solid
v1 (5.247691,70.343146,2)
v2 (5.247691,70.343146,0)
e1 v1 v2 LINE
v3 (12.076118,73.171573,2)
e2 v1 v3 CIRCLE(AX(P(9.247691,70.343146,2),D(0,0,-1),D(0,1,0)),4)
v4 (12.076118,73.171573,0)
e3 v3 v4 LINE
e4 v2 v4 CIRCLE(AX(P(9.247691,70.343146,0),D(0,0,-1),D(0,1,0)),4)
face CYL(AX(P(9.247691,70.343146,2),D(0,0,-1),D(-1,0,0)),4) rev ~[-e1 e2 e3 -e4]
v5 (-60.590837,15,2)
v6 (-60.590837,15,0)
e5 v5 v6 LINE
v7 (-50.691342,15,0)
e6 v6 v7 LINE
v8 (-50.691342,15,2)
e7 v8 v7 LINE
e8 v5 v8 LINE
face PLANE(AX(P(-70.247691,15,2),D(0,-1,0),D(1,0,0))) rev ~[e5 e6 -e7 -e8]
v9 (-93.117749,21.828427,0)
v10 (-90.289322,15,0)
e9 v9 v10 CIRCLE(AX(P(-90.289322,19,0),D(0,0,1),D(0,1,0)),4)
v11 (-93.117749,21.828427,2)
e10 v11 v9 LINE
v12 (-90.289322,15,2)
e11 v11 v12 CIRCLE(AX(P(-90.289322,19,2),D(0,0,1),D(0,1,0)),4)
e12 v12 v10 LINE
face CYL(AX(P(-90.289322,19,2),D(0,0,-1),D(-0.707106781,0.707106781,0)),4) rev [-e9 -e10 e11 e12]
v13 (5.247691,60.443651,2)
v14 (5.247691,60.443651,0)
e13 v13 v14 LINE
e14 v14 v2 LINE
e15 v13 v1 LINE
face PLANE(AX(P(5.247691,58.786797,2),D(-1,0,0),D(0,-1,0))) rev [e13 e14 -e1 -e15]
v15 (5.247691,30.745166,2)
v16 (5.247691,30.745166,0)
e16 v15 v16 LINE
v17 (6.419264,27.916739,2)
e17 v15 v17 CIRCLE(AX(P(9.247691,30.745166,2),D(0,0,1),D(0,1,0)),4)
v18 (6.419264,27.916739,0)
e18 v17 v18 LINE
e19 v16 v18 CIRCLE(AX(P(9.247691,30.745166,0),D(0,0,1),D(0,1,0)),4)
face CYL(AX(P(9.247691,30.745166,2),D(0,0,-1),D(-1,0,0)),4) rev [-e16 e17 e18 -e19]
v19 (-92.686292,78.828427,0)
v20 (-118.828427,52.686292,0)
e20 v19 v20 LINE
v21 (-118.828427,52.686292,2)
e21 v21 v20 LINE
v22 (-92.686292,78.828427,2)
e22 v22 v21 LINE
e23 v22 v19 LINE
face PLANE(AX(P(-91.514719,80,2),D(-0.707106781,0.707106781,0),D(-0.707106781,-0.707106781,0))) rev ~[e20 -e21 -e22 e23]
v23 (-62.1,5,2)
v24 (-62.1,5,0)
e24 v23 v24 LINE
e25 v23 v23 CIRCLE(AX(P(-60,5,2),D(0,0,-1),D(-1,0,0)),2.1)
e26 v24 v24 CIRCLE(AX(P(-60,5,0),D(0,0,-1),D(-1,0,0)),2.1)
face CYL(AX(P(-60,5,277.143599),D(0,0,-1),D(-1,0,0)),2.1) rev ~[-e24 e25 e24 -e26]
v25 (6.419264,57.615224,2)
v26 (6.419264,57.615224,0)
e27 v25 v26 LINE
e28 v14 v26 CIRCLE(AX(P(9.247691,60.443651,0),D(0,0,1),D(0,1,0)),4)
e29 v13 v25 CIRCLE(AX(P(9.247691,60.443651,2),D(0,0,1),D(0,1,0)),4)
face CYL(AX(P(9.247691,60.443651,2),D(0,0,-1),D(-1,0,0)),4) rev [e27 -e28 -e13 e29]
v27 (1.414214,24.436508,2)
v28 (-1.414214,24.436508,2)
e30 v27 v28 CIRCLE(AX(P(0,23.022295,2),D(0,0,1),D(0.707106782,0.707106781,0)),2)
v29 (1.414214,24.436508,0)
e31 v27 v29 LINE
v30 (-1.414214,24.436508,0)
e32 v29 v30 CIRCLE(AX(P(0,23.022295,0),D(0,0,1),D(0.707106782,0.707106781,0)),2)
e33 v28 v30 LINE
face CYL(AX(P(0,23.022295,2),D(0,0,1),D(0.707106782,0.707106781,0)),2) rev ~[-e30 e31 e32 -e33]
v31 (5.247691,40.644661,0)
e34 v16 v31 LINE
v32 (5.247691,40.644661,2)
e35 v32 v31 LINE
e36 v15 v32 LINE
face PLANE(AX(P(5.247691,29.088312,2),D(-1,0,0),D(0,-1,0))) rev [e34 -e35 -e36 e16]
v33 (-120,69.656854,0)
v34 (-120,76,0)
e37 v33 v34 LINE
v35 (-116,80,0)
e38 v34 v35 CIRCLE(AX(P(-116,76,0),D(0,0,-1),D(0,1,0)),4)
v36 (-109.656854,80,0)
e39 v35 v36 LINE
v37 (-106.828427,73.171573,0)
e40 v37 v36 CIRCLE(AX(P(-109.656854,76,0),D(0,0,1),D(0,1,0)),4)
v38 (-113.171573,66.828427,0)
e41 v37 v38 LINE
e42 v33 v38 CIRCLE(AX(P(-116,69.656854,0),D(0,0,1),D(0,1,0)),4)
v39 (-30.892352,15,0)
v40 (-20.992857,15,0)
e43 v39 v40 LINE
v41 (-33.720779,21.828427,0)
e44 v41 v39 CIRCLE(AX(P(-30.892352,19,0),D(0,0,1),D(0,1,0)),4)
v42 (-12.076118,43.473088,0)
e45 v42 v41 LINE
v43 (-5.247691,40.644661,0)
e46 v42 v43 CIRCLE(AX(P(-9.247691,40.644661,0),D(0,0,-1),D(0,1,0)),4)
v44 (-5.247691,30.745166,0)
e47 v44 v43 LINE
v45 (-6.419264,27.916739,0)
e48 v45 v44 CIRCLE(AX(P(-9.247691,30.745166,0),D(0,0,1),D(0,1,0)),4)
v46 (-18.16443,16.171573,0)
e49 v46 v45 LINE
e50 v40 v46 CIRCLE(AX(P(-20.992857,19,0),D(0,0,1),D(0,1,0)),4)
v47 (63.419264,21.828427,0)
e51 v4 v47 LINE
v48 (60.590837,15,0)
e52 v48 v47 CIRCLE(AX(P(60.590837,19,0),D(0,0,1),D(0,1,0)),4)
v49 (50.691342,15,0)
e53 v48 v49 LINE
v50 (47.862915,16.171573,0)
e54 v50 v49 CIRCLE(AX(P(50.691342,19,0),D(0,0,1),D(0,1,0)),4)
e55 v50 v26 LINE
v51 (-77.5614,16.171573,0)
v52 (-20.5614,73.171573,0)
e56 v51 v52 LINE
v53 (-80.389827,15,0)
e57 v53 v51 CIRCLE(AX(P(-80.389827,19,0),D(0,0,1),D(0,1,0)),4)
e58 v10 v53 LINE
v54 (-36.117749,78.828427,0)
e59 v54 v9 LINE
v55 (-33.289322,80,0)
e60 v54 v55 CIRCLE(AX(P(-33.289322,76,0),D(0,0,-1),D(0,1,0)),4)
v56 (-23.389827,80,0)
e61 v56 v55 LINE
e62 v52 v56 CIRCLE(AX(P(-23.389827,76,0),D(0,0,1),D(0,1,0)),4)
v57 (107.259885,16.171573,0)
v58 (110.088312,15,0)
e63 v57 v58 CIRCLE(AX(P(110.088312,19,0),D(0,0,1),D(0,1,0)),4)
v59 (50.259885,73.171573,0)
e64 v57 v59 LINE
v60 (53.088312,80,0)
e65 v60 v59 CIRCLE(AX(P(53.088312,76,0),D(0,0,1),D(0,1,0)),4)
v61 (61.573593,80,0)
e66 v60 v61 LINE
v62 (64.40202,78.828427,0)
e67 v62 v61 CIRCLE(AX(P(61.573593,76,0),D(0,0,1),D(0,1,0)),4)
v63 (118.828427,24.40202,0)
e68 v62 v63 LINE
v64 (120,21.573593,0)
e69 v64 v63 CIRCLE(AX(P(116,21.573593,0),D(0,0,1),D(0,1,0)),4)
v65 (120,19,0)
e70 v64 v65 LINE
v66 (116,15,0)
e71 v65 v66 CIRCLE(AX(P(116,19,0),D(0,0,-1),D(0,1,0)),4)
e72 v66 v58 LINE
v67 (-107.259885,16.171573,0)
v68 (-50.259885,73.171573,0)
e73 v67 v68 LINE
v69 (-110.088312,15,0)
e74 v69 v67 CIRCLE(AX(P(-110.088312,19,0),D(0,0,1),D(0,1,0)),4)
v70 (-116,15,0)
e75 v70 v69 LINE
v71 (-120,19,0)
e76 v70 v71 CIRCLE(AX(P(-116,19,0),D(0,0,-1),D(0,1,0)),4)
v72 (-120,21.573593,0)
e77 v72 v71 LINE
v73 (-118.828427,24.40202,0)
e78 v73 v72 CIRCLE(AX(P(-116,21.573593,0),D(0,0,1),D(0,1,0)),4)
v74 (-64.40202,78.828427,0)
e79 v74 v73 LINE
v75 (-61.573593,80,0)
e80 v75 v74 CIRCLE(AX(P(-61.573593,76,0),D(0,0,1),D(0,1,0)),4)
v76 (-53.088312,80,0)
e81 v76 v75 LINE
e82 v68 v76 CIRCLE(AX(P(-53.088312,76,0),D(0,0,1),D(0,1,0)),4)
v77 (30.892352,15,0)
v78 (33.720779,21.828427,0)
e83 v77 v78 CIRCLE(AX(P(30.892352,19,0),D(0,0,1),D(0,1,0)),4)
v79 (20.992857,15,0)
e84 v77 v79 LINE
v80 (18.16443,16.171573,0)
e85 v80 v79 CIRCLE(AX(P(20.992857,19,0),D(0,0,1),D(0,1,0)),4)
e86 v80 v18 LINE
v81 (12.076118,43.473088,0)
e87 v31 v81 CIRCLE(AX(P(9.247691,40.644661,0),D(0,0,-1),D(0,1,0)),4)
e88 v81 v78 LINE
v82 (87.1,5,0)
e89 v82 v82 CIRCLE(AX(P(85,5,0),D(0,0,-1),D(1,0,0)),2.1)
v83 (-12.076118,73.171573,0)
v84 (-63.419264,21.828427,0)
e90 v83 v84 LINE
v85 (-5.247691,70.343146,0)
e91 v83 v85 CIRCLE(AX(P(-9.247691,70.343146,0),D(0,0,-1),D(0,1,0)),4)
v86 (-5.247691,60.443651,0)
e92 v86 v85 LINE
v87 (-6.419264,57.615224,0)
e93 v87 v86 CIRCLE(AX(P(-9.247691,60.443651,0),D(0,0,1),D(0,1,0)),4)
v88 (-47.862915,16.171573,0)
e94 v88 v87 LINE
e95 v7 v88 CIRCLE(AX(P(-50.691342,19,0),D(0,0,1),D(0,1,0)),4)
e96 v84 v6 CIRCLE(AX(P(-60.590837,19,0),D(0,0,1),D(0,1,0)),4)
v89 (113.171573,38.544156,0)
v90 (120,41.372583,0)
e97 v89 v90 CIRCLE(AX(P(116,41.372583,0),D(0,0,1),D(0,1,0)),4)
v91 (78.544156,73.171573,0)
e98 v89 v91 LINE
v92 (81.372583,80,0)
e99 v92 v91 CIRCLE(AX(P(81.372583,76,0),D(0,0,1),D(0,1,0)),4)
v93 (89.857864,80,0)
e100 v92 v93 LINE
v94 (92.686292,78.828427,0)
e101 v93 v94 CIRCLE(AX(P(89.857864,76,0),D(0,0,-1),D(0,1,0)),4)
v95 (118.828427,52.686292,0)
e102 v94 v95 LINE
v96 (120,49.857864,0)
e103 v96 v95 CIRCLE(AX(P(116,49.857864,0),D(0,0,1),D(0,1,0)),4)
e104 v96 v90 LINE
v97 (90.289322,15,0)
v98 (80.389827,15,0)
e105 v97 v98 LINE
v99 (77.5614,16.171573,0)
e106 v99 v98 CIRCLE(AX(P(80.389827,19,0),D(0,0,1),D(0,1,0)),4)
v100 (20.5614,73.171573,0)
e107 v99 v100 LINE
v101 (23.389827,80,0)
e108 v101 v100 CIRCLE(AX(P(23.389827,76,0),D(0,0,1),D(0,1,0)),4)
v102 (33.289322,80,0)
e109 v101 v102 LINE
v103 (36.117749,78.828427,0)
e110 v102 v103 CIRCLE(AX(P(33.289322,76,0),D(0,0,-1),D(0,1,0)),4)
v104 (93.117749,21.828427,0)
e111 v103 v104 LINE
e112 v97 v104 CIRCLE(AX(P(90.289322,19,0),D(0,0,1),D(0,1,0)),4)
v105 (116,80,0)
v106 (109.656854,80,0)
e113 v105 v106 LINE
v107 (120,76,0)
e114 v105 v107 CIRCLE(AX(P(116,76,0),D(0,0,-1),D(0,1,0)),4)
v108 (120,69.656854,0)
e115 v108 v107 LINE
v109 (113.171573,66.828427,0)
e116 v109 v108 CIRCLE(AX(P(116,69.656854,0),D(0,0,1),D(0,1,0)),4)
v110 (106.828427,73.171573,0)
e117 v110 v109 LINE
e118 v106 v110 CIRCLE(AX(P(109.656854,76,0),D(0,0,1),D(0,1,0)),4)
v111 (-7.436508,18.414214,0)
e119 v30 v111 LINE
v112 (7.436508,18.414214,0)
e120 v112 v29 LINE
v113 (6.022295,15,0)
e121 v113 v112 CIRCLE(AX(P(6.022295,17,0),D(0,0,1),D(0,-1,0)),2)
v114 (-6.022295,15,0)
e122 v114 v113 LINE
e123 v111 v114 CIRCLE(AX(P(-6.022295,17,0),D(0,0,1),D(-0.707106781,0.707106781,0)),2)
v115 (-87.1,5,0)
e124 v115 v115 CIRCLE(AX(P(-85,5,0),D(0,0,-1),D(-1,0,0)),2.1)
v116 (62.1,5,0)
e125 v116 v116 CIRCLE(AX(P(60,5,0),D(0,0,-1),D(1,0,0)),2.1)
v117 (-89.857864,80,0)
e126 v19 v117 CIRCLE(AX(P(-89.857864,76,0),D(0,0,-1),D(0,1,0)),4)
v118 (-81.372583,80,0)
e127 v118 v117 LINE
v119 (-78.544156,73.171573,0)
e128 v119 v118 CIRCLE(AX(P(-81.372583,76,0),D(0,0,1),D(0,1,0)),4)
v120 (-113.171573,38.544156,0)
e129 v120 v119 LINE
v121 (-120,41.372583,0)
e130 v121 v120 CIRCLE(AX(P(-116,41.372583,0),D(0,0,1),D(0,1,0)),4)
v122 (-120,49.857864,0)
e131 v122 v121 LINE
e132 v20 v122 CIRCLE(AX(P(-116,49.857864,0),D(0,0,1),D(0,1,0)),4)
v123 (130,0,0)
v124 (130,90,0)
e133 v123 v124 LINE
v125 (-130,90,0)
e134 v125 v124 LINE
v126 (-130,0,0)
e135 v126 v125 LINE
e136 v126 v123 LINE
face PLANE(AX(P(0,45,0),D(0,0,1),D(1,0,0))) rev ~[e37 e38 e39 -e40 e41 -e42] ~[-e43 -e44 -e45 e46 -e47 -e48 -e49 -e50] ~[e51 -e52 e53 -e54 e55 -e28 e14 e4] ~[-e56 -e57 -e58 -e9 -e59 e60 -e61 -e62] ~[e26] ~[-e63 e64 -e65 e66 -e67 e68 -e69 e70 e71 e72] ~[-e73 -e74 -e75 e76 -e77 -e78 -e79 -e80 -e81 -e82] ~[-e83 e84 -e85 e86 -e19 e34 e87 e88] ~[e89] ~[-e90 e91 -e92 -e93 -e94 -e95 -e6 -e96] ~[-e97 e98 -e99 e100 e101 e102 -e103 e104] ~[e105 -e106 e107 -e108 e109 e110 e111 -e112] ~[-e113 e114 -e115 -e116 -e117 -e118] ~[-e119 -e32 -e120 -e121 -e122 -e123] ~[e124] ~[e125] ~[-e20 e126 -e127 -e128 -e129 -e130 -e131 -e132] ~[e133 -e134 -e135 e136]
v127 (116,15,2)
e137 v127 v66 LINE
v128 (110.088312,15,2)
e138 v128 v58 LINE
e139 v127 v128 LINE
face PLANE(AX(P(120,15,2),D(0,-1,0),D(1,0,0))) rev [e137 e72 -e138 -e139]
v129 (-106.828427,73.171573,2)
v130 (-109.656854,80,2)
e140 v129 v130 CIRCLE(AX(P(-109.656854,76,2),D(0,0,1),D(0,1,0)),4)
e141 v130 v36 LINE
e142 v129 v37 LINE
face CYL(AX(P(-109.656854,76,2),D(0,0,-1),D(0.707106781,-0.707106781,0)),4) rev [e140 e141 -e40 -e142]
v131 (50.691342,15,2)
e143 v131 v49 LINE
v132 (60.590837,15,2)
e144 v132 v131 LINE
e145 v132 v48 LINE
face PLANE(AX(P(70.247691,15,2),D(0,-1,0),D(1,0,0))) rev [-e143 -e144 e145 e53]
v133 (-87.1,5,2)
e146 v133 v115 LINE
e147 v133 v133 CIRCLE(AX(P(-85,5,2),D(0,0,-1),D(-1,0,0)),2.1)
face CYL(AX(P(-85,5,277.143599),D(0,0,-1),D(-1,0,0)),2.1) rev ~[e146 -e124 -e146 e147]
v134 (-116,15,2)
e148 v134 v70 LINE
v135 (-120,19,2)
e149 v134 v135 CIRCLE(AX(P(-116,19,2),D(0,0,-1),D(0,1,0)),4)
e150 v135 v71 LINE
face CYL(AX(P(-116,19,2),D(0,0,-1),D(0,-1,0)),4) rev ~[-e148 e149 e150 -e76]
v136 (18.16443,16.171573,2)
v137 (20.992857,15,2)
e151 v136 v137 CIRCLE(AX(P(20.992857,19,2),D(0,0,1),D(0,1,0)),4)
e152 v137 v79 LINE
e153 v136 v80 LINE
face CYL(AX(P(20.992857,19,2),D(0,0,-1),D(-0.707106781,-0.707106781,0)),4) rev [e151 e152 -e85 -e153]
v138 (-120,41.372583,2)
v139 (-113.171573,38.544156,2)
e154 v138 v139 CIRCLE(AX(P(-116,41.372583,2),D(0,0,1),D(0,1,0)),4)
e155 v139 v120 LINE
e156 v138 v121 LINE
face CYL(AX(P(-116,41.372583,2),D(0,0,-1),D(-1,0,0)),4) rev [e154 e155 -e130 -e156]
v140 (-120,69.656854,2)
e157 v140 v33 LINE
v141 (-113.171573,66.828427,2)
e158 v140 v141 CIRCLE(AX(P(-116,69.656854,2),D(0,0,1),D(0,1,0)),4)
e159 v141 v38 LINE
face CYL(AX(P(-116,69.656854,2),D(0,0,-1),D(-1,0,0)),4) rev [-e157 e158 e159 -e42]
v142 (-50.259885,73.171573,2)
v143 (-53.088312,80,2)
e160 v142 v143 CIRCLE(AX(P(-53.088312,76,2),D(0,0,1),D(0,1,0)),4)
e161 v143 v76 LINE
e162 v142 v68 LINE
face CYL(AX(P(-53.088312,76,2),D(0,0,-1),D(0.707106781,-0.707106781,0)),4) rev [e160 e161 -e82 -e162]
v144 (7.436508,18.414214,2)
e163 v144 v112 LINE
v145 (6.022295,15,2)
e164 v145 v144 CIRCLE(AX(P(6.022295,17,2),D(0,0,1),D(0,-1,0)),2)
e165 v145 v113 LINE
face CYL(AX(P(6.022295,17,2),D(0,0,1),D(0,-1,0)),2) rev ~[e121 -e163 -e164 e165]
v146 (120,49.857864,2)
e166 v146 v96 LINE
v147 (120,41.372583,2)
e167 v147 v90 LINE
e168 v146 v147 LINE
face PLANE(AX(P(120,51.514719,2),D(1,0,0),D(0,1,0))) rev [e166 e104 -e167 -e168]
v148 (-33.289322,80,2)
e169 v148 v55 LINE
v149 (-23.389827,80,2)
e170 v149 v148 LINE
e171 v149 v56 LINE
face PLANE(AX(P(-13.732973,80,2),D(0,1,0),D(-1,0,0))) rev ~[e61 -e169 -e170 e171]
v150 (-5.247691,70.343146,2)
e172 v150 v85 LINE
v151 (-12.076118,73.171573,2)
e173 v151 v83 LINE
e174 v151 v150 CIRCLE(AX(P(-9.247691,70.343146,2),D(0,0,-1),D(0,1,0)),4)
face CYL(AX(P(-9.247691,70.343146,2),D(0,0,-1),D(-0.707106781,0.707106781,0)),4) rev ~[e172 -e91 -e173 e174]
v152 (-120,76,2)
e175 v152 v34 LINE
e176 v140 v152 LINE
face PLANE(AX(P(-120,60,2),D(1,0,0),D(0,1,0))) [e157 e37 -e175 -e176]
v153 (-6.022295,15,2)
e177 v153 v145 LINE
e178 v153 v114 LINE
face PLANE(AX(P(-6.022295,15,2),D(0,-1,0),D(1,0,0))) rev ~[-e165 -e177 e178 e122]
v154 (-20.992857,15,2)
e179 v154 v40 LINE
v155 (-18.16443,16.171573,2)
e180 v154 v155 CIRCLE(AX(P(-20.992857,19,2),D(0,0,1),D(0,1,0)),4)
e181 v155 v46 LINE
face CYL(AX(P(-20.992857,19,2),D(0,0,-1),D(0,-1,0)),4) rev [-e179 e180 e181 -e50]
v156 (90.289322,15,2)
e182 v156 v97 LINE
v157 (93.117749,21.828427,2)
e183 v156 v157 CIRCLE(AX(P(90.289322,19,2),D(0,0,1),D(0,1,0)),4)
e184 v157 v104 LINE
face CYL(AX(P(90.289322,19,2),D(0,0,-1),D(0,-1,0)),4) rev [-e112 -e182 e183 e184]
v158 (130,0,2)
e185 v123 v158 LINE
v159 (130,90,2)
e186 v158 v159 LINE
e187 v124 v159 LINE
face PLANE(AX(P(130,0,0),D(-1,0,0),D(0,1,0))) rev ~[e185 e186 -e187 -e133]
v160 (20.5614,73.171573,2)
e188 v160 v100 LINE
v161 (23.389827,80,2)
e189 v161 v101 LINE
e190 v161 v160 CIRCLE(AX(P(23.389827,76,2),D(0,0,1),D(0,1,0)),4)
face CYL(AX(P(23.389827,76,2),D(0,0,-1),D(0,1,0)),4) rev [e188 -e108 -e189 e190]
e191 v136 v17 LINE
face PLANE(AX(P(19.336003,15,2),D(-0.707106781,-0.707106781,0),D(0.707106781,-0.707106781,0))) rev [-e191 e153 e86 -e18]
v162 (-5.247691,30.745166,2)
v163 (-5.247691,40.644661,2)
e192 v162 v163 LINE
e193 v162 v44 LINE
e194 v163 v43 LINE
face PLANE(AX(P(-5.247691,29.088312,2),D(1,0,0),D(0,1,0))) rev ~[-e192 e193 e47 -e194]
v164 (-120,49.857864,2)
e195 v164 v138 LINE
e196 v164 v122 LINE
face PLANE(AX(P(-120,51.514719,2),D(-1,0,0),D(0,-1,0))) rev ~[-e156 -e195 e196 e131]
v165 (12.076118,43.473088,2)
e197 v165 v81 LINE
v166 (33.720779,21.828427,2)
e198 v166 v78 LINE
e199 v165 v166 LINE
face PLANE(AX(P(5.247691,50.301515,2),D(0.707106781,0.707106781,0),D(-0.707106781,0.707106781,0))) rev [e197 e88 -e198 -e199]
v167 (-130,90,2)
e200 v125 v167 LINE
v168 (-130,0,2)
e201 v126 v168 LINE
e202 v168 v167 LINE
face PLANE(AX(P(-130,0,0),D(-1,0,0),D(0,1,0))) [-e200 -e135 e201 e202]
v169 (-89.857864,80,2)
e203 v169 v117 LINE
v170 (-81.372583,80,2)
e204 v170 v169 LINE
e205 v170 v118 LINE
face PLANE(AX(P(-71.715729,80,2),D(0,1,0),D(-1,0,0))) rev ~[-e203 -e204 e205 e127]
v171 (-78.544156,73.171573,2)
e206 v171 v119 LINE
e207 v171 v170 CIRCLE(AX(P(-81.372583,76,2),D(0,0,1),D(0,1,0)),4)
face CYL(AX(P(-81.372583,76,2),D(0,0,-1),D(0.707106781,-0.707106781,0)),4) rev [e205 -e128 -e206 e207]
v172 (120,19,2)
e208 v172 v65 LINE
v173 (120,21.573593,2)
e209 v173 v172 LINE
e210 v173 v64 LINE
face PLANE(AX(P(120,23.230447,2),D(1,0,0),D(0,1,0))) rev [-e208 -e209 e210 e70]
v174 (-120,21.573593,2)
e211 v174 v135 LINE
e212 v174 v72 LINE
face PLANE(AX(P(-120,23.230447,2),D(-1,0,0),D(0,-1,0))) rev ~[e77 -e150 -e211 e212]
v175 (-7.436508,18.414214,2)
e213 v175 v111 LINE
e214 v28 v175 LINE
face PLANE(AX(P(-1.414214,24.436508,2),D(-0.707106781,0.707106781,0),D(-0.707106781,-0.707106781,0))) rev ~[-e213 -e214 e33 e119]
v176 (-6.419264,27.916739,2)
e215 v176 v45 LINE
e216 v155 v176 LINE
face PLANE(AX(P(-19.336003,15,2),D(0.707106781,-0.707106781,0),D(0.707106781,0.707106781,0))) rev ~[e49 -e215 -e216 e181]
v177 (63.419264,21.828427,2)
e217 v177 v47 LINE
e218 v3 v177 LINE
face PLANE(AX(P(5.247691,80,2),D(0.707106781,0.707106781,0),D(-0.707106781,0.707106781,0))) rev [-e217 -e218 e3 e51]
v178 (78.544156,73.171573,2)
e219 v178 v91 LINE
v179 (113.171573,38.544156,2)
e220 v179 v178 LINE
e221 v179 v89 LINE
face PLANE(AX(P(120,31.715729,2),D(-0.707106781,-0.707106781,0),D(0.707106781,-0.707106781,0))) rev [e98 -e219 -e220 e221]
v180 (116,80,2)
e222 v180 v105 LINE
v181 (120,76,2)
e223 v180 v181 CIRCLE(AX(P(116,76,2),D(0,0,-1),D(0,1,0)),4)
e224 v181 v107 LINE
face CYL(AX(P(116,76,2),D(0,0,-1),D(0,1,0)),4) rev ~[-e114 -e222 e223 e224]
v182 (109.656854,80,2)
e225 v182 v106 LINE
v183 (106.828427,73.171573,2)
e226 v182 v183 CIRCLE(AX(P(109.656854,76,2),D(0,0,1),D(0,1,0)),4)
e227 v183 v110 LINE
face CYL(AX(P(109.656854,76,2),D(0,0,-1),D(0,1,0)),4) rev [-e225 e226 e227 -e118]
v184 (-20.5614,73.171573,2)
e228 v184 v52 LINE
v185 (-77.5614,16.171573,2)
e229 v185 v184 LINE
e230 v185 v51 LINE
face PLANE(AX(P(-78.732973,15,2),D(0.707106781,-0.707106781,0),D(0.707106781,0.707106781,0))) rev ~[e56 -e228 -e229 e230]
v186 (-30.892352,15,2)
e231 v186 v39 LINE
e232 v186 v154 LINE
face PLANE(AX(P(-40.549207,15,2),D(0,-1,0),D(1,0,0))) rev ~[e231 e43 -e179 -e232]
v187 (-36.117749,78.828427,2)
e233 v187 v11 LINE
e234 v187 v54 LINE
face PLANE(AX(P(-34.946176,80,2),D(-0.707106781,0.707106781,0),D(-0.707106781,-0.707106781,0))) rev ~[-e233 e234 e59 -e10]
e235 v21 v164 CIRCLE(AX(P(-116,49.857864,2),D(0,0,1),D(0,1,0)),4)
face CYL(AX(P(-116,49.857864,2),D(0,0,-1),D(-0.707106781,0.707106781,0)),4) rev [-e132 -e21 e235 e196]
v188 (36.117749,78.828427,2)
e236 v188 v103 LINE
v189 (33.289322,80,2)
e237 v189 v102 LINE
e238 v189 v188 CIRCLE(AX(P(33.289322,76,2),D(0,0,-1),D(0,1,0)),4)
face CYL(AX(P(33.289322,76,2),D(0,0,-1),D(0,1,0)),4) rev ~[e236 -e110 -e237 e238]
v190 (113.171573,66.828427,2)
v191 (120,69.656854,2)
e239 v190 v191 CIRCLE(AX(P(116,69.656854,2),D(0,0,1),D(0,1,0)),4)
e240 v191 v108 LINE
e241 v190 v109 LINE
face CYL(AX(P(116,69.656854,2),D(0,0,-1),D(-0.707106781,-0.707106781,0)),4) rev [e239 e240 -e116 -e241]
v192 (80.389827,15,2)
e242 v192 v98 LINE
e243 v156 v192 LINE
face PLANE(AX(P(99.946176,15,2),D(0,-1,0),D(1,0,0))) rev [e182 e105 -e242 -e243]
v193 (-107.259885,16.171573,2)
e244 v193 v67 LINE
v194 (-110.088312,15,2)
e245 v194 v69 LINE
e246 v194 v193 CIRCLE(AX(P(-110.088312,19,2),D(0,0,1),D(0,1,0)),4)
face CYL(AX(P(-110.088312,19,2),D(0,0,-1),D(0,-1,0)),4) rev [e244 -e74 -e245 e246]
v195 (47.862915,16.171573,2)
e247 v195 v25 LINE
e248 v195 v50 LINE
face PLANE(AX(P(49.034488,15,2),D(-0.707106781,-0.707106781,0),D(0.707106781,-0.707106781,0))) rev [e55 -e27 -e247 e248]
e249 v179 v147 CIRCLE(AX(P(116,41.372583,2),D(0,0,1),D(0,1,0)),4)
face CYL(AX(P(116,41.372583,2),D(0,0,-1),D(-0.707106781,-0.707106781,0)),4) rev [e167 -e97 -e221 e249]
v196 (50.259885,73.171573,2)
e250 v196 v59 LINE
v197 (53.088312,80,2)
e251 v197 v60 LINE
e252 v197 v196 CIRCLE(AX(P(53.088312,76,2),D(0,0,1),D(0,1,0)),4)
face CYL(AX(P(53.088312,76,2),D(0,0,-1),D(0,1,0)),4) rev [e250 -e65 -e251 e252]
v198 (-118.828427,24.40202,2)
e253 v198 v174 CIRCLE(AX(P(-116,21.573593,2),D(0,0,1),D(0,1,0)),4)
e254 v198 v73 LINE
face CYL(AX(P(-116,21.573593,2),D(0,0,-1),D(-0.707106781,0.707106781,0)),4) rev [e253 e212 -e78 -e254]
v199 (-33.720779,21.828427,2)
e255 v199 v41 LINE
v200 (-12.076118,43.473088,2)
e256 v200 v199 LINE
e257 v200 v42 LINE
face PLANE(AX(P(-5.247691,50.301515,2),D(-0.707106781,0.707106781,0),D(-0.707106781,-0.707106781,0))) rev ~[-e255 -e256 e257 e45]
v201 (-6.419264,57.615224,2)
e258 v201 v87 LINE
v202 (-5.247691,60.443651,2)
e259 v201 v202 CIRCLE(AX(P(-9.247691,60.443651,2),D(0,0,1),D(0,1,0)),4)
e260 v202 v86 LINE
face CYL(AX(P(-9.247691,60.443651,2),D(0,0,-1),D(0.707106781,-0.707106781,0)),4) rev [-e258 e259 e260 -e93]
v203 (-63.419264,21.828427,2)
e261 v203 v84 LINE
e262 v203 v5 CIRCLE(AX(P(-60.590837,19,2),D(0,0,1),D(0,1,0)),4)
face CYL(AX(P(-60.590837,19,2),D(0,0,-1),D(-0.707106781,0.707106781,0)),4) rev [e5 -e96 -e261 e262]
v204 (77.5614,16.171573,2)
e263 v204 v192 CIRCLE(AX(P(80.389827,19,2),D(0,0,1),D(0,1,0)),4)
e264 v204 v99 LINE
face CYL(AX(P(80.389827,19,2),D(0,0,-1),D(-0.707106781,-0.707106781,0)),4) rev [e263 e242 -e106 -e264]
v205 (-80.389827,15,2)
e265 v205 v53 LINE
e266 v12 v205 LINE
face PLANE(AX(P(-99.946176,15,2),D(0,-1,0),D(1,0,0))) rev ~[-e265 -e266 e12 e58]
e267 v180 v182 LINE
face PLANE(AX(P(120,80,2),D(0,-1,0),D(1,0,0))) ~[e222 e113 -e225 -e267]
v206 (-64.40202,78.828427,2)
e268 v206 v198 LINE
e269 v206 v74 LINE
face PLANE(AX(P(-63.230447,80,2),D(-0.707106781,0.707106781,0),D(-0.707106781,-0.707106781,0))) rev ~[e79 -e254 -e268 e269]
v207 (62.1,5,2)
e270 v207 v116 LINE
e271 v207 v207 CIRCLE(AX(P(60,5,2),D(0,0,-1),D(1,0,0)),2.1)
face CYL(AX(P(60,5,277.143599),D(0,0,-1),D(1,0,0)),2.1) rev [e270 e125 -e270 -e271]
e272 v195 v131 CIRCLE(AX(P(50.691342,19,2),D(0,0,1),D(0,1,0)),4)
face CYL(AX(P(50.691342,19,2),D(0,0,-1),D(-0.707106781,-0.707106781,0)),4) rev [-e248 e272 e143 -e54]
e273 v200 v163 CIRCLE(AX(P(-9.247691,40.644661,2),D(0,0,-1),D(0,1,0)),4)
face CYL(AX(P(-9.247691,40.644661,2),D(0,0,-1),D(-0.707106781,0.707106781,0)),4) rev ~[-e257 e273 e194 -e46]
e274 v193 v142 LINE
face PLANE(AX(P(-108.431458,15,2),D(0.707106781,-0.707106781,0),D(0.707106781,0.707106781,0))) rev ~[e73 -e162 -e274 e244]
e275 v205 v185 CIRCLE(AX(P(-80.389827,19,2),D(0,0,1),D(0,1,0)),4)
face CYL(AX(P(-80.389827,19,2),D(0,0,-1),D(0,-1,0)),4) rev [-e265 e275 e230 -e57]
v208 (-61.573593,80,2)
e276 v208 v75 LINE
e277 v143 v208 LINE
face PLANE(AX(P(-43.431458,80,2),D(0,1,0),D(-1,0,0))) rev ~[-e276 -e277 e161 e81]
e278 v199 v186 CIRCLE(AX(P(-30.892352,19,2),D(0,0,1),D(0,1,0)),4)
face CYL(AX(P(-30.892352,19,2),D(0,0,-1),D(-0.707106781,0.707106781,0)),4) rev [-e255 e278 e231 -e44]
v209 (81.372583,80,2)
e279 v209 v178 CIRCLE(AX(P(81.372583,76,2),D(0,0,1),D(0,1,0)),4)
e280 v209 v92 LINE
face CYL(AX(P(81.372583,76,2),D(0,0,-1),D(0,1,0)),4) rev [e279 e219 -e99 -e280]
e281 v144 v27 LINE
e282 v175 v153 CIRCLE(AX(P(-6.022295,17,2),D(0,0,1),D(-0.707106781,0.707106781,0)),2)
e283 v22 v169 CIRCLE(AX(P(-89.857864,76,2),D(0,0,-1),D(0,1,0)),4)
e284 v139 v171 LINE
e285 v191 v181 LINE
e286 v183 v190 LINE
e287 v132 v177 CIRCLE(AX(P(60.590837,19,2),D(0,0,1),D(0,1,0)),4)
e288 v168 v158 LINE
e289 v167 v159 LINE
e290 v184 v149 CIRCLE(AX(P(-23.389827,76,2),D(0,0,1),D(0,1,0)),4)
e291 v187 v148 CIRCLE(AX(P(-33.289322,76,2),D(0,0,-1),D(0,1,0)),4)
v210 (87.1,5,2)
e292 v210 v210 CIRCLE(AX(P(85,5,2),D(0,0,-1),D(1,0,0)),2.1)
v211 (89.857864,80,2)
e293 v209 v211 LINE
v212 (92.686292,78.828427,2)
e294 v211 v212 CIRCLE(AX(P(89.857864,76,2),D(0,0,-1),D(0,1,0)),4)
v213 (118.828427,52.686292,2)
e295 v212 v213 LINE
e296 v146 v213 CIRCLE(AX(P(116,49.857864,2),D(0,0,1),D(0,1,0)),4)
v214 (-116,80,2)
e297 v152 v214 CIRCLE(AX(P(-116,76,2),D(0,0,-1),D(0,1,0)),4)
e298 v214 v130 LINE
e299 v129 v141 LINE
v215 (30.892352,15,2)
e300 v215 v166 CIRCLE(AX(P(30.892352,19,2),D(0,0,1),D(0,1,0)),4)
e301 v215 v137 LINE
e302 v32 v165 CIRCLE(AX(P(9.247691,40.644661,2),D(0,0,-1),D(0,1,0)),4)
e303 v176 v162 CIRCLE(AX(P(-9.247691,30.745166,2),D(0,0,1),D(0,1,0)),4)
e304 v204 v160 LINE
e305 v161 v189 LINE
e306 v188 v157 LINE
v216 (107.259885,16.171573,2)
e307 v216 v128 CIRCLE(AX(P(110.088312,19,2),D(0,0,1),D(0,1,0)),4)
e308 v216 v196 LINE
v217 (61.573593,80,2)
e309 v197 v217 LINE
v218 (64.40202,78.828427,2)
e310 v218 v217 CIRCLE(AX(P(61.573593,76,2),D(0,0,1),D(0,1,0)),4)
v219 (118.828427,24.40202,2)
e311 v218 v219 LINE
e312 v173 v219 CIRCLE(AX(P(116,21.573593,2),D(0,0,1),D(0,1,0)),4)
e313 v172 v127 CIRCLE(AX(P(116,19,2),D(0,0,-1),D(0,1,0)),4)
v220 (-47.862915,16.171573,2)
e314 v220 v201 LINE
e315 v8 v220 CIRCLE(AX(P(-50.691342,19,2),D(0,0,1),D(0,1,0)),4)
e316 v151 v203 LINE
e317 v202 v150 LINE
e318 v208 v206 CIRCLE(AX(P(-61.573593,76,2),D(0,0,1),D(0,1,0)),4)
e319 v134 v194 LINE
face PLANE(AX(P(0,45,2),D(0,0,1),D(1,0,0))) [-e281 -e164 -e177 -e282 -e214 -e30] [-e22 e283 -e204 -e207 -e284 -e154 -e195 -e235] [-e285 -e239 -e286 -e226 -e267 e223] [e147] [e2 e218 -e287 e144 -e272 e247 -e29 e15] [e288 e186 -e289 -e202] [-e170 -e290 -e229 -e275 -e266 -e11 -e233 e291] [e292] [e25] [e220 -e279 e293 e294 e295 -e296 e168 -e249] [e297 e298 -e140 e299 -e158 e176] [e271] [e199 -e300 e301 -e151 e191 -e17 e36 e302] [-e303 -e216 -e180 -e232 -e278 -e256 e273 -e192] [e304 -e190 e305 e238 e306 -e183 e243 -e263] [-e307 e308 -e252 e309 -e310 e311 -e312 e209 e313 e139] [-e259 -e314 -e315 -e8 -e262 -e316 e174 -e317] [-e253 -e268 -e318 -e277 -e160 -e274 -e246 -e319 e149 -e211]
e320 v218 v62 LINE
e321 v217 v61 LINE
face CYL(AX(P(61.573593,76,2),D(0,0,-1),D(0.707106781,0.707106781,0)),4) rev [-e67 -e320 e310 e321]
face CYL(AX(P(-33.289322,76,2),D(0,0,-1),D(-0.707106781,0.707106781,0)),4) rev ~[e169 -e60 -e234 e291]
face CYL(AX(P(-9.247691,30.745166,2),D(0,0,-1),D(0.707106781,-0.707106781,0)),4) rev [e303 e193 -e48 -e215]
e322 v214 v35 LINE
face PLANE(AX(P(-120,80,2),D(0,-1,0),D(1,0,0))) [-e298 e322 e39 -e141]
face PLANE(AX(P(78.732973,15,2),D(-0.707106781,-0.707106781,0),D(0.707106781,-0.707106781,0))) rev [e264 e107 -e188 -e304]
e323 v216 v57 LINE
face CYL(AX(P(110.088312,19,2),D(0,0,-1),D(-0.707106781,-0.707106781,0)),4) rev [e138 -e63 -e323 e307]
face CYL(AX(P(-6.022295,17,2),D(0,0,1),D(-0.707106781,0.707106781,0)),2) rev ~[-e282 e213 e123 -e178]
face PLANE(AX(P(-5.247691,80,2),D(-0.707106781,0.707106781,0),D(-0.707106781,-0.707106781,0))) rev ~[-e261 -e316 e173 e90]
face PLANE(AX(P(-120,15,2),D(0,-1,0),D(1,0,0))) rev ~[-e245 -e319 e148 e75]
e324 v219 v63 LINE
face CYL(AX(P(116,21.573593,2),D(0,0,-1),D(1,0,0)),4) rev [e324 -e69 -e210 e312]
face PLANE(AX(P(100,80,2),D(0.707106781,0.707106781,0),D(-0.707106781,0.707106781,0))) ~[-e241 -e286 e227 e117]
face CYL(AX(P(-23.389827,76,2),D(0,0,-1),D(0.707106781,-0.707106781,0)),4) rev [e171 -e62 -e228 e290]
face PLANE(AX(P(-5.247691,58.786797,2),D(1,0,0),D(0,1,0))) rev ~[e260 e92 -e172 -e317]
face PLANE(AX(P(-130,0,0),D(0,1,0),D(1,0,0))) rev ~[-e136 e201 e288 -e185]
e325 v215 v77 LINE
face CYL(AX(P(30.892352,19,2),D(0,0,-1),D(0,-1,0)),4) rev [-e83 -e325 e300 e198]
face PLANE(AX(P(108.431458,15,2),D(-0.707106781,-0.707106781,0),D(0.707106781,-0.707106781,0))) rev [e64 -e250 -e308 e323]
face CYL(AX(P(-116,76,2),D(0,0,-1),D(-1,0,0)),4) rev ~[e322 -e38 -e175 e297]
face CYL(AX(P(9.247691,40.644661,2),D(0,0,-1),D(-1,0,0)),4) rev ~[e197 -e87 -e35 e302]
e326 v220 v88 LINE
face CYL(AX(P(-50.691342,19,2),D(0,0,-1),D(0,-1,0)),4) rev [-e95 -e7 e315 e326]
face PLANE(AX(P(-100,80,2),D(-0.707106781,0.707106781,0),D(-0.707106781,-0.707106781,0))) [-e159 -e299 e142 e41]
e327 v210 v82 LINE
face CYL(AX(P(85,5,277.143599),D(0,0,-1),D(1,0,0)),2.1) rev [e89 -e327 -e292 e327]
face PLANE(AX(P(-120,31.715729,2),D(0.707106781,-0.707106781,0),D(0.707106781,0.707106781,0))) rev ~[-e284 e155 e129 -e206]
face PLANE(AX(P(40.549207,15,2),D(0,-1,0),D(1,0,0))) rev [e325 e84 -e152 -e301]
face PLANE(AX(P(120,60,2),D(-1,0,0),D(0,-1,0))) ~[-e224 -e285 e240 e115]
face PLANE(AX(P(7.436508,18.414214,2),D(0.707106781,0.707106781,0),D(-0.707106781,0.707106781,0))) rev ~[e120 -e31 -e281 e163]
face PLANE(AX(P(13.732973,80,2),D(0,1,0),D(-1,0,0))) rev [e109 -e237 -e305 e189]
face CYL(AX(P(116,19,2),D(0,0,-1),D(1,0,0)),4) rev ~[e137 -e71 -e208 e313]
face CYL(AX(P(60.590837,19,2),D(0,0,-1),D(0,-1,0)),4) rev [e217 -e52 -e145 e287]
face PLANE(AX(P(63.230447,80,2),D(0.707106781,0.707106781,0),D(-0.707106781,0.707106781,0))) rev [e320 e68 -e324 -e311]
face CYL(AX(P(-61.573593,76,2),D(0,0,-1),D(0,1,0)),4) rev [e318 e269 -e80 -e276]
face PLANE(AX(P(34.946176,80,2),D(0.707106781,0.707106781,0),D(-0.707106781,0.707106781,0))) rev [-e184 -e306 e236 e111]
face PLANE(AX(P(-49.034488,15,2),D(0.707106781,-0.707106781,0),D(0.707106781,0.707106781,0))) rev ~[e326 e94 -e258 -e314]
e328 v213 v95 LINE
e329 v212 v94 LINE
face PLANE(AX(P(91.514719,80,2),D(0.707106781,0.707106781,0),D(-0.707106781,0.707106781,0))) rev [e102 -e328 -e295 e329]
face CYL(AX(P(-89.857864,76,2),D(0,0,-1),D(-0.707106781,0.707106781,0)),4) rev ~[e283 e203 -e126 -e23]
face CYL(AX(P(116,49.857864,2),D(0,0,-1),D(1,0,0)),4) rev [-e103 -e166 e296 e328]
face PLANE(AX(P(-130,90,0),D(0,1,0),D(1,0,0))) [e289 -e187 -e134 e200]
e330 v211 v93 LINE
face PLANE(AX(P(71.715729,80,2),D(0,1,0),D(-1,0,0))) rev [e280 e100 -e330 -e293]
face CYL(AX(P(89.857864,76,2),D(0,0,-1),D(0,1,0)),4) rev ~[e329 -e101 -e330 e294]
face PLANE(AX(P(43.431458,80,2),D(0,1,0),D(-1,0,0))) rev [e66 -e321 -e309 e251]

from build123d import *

# Parameters (mm, degrees)
SKETCH_1_W              = 260
SKETCH_1_H              = 90
EXTRUDE_1_DEPTH         = 2
HOLE_WIZARD_4_2_4_2_1_D = 4.2
CUT_EXTRUDE_1_DEPTH     = 159.126531613
FILLET_1_R              = 4
FILLET_1_OF_MIRROR_2_R  = 4
CUT_EXTRUDE_2_DEPTH     = 159.126531613


with BuildPart() as part:
    # 草图1 → 凸台-拉伸1 (new body)
    with BuildSketch(Plane.XY):
        with Locations((0, 45)):
            Rectangle(SKETCH_1_W, SKETCH_1_H)
    extrude(amount=EXTRUDE_1_DEPTH)

    # Ø4.2 (4.2) 直径孔1 (through all)
    with Locations(Plane(origin=(-60, 5, 2), x_dir=(1, 0, 0), z_dir=(0, 0, 1))):
        with Locations((0, 0), (-25, 0)):
            hole_wizard_4_2_4_2_1 = Hole(HOLE_WIZARD_4_2_4_2_1_D / 2)

    # 镜向1: Ø4.2 (4.2) 直径孔1 across plane
    add(hole_wizard_4_2_4_2_1.mirror(Plane(origin=(0, 0, 0), x_dir=(0, 0, 1), z_dir=(1, 0, 0))), mode=Mode.SUBTRACT)

    # 草图5 → 切除-拉伸1 (cut, through all)
    with BuildSketch(Plane.XY.offset(2)):
        Polygon((-120, 80), (-100, 80), (-120, 60), align=None)
        Polygon((-120, 15), (-108.431457505, 15), (-43.431457505, 80), (-63.230447378, 80), (-120, 23.230447378), align=None)
        Polygon((-5.247691321, 50.30151519), (-40.549206511, 15), (-19.336003076, 15), (-5.247691321, 29.088311755), align=None)
        Polygon((-91.514718626, 80), (-120, 51.514718626), (-120, 31.715728753), (-71.715728753, 80), align=None)
        Polygon((-34.946176131, 80), (-99.946176131, 15), (-78.732972695, 15), (-13.732972695, 80), align=None)
        Polygon((-5.247691321, 80), (-70.247691321, 15), (-49.034487885, 15), (-5.247691321, 58.786796564), align=None)
    cut_extrude_1 = extrude(amount=-CUT_EXTRUDE_1_DEPTH, mode=Mode.SUBTRACT)

    # 圆角1
    fillet_1_edges = [part.edges().sort_by_distance(p)[0] for p in [
        (-5.247691321, 80, 1),
        (-5.247691321, 58.786796564, 1),
        (-49.034487885, 15, 1),
        (-70.247691321, 15, 1),
        (-91.514718626, 80, 1),
        (-71.715728753, 80, 1),
        (-120, 31.715728753, 1),
        (-120, 51.514718626, 1),
        (-120, 15, 1),
        (-120, 23.230447378, 1),
        (-63.230447378, 80, 1),
        (-43.431457505, 80, 1),
        (-108.431457505, 15, 1),
        (-5.247691321, 50.30151519, 1),
        (-5.247691321, 29.088311755, 1),
        (-19.336003076, 15, 1),
        (-40.549206511, 15, 1),
        (-34.946176131, 80, 1),
        (-13.732972695, 80, 1),
        (-78.732972695, 15, 1),
        (-99.946176131, 15, 1),
        (-120, 60, 1),
        (-120, 80, 1),
        (-100, 80, 1),
    ]]
    fillet(fillet_1_edges, radius=FILLET_1_R)

    # 镜向2: 切除-拉伸1 across plane
    add(cut_extrude_1.mirror(Plane(origin=(0, 0, 0), x_dir=(0, 0, 1), z_dir=(1, 0, 0))), mode=Mode.SUBTRACT)

    # 圆角1 of 镜向2
    fillet_1_of_mirror_2_edges = [part.edges().sort_by_distance(p)[0] for p in [
        (5.247691321, 80, 1),
        (5.247691321, 58.786796564, 1),
        (49.034487885, 15, 1),
        (70.247691321, 15, 1),
        (91.514718626, 80, 1),
        (71.715728753, 80, 1),
        (120, 31.715728753, 1),
        (120, 51.514718626, 1),
        (120, 15, 1),
        (120, 23.230447378, 1),
        (63.230447378, 80, 1),
        (43.431457505, 80, 1),
        (108.431457505, 15, 1),
        (5.247691321, 50.30151519, 1),
        (5.247691321, 29.088311755, 1),
        (19.336003076, 15, 1),
        (40.549206511, 15, 1),
        (34.946176131, 80, 1),
        (13.732972695, 80, 1),
        (78.732972695, 15, 1),
        (99.946176131, 15, 1),
        (120, 60, 1),
        (120, 80, 1),
        (100, 80, 1),
    ]]
    fillet(fillet_1_of_mirror_2_edges, radius=FILLET_1_OF_MIRROR_2_R)

    # 草图6 → 切除-拉伸2 (cut, through all)
    with BuildSketch(Plane.XY.offset(2)):
        with BuildLine():
            Line((-1.414213562, 24.436508139), (-7.436508139, 18.414213562))
            ThreePointArc((-7.436508139, 18.414213562), (-7.870053642, 16.234633135), (-6.022294577, 15))
            Line((-6.022294577, 15), (6.022294577, 15))
            ThreePointArc((6.022294577, 15), (7.870053642, 16.234633135), (7.436508139, 18.414213562))
            Line((7.436508139, 18.414213562), (1.414213562, 24.436508139))
            ThreePointArc((1.414213562, 24.436508139), (0, 25.022294577), (-1.414213562, 24.436508139))
        make_face()
    extrude(amount=-CUT_EXTRUDE_2_DEPTH, mode=Mode.SUBTRACT)


solid = part.part
